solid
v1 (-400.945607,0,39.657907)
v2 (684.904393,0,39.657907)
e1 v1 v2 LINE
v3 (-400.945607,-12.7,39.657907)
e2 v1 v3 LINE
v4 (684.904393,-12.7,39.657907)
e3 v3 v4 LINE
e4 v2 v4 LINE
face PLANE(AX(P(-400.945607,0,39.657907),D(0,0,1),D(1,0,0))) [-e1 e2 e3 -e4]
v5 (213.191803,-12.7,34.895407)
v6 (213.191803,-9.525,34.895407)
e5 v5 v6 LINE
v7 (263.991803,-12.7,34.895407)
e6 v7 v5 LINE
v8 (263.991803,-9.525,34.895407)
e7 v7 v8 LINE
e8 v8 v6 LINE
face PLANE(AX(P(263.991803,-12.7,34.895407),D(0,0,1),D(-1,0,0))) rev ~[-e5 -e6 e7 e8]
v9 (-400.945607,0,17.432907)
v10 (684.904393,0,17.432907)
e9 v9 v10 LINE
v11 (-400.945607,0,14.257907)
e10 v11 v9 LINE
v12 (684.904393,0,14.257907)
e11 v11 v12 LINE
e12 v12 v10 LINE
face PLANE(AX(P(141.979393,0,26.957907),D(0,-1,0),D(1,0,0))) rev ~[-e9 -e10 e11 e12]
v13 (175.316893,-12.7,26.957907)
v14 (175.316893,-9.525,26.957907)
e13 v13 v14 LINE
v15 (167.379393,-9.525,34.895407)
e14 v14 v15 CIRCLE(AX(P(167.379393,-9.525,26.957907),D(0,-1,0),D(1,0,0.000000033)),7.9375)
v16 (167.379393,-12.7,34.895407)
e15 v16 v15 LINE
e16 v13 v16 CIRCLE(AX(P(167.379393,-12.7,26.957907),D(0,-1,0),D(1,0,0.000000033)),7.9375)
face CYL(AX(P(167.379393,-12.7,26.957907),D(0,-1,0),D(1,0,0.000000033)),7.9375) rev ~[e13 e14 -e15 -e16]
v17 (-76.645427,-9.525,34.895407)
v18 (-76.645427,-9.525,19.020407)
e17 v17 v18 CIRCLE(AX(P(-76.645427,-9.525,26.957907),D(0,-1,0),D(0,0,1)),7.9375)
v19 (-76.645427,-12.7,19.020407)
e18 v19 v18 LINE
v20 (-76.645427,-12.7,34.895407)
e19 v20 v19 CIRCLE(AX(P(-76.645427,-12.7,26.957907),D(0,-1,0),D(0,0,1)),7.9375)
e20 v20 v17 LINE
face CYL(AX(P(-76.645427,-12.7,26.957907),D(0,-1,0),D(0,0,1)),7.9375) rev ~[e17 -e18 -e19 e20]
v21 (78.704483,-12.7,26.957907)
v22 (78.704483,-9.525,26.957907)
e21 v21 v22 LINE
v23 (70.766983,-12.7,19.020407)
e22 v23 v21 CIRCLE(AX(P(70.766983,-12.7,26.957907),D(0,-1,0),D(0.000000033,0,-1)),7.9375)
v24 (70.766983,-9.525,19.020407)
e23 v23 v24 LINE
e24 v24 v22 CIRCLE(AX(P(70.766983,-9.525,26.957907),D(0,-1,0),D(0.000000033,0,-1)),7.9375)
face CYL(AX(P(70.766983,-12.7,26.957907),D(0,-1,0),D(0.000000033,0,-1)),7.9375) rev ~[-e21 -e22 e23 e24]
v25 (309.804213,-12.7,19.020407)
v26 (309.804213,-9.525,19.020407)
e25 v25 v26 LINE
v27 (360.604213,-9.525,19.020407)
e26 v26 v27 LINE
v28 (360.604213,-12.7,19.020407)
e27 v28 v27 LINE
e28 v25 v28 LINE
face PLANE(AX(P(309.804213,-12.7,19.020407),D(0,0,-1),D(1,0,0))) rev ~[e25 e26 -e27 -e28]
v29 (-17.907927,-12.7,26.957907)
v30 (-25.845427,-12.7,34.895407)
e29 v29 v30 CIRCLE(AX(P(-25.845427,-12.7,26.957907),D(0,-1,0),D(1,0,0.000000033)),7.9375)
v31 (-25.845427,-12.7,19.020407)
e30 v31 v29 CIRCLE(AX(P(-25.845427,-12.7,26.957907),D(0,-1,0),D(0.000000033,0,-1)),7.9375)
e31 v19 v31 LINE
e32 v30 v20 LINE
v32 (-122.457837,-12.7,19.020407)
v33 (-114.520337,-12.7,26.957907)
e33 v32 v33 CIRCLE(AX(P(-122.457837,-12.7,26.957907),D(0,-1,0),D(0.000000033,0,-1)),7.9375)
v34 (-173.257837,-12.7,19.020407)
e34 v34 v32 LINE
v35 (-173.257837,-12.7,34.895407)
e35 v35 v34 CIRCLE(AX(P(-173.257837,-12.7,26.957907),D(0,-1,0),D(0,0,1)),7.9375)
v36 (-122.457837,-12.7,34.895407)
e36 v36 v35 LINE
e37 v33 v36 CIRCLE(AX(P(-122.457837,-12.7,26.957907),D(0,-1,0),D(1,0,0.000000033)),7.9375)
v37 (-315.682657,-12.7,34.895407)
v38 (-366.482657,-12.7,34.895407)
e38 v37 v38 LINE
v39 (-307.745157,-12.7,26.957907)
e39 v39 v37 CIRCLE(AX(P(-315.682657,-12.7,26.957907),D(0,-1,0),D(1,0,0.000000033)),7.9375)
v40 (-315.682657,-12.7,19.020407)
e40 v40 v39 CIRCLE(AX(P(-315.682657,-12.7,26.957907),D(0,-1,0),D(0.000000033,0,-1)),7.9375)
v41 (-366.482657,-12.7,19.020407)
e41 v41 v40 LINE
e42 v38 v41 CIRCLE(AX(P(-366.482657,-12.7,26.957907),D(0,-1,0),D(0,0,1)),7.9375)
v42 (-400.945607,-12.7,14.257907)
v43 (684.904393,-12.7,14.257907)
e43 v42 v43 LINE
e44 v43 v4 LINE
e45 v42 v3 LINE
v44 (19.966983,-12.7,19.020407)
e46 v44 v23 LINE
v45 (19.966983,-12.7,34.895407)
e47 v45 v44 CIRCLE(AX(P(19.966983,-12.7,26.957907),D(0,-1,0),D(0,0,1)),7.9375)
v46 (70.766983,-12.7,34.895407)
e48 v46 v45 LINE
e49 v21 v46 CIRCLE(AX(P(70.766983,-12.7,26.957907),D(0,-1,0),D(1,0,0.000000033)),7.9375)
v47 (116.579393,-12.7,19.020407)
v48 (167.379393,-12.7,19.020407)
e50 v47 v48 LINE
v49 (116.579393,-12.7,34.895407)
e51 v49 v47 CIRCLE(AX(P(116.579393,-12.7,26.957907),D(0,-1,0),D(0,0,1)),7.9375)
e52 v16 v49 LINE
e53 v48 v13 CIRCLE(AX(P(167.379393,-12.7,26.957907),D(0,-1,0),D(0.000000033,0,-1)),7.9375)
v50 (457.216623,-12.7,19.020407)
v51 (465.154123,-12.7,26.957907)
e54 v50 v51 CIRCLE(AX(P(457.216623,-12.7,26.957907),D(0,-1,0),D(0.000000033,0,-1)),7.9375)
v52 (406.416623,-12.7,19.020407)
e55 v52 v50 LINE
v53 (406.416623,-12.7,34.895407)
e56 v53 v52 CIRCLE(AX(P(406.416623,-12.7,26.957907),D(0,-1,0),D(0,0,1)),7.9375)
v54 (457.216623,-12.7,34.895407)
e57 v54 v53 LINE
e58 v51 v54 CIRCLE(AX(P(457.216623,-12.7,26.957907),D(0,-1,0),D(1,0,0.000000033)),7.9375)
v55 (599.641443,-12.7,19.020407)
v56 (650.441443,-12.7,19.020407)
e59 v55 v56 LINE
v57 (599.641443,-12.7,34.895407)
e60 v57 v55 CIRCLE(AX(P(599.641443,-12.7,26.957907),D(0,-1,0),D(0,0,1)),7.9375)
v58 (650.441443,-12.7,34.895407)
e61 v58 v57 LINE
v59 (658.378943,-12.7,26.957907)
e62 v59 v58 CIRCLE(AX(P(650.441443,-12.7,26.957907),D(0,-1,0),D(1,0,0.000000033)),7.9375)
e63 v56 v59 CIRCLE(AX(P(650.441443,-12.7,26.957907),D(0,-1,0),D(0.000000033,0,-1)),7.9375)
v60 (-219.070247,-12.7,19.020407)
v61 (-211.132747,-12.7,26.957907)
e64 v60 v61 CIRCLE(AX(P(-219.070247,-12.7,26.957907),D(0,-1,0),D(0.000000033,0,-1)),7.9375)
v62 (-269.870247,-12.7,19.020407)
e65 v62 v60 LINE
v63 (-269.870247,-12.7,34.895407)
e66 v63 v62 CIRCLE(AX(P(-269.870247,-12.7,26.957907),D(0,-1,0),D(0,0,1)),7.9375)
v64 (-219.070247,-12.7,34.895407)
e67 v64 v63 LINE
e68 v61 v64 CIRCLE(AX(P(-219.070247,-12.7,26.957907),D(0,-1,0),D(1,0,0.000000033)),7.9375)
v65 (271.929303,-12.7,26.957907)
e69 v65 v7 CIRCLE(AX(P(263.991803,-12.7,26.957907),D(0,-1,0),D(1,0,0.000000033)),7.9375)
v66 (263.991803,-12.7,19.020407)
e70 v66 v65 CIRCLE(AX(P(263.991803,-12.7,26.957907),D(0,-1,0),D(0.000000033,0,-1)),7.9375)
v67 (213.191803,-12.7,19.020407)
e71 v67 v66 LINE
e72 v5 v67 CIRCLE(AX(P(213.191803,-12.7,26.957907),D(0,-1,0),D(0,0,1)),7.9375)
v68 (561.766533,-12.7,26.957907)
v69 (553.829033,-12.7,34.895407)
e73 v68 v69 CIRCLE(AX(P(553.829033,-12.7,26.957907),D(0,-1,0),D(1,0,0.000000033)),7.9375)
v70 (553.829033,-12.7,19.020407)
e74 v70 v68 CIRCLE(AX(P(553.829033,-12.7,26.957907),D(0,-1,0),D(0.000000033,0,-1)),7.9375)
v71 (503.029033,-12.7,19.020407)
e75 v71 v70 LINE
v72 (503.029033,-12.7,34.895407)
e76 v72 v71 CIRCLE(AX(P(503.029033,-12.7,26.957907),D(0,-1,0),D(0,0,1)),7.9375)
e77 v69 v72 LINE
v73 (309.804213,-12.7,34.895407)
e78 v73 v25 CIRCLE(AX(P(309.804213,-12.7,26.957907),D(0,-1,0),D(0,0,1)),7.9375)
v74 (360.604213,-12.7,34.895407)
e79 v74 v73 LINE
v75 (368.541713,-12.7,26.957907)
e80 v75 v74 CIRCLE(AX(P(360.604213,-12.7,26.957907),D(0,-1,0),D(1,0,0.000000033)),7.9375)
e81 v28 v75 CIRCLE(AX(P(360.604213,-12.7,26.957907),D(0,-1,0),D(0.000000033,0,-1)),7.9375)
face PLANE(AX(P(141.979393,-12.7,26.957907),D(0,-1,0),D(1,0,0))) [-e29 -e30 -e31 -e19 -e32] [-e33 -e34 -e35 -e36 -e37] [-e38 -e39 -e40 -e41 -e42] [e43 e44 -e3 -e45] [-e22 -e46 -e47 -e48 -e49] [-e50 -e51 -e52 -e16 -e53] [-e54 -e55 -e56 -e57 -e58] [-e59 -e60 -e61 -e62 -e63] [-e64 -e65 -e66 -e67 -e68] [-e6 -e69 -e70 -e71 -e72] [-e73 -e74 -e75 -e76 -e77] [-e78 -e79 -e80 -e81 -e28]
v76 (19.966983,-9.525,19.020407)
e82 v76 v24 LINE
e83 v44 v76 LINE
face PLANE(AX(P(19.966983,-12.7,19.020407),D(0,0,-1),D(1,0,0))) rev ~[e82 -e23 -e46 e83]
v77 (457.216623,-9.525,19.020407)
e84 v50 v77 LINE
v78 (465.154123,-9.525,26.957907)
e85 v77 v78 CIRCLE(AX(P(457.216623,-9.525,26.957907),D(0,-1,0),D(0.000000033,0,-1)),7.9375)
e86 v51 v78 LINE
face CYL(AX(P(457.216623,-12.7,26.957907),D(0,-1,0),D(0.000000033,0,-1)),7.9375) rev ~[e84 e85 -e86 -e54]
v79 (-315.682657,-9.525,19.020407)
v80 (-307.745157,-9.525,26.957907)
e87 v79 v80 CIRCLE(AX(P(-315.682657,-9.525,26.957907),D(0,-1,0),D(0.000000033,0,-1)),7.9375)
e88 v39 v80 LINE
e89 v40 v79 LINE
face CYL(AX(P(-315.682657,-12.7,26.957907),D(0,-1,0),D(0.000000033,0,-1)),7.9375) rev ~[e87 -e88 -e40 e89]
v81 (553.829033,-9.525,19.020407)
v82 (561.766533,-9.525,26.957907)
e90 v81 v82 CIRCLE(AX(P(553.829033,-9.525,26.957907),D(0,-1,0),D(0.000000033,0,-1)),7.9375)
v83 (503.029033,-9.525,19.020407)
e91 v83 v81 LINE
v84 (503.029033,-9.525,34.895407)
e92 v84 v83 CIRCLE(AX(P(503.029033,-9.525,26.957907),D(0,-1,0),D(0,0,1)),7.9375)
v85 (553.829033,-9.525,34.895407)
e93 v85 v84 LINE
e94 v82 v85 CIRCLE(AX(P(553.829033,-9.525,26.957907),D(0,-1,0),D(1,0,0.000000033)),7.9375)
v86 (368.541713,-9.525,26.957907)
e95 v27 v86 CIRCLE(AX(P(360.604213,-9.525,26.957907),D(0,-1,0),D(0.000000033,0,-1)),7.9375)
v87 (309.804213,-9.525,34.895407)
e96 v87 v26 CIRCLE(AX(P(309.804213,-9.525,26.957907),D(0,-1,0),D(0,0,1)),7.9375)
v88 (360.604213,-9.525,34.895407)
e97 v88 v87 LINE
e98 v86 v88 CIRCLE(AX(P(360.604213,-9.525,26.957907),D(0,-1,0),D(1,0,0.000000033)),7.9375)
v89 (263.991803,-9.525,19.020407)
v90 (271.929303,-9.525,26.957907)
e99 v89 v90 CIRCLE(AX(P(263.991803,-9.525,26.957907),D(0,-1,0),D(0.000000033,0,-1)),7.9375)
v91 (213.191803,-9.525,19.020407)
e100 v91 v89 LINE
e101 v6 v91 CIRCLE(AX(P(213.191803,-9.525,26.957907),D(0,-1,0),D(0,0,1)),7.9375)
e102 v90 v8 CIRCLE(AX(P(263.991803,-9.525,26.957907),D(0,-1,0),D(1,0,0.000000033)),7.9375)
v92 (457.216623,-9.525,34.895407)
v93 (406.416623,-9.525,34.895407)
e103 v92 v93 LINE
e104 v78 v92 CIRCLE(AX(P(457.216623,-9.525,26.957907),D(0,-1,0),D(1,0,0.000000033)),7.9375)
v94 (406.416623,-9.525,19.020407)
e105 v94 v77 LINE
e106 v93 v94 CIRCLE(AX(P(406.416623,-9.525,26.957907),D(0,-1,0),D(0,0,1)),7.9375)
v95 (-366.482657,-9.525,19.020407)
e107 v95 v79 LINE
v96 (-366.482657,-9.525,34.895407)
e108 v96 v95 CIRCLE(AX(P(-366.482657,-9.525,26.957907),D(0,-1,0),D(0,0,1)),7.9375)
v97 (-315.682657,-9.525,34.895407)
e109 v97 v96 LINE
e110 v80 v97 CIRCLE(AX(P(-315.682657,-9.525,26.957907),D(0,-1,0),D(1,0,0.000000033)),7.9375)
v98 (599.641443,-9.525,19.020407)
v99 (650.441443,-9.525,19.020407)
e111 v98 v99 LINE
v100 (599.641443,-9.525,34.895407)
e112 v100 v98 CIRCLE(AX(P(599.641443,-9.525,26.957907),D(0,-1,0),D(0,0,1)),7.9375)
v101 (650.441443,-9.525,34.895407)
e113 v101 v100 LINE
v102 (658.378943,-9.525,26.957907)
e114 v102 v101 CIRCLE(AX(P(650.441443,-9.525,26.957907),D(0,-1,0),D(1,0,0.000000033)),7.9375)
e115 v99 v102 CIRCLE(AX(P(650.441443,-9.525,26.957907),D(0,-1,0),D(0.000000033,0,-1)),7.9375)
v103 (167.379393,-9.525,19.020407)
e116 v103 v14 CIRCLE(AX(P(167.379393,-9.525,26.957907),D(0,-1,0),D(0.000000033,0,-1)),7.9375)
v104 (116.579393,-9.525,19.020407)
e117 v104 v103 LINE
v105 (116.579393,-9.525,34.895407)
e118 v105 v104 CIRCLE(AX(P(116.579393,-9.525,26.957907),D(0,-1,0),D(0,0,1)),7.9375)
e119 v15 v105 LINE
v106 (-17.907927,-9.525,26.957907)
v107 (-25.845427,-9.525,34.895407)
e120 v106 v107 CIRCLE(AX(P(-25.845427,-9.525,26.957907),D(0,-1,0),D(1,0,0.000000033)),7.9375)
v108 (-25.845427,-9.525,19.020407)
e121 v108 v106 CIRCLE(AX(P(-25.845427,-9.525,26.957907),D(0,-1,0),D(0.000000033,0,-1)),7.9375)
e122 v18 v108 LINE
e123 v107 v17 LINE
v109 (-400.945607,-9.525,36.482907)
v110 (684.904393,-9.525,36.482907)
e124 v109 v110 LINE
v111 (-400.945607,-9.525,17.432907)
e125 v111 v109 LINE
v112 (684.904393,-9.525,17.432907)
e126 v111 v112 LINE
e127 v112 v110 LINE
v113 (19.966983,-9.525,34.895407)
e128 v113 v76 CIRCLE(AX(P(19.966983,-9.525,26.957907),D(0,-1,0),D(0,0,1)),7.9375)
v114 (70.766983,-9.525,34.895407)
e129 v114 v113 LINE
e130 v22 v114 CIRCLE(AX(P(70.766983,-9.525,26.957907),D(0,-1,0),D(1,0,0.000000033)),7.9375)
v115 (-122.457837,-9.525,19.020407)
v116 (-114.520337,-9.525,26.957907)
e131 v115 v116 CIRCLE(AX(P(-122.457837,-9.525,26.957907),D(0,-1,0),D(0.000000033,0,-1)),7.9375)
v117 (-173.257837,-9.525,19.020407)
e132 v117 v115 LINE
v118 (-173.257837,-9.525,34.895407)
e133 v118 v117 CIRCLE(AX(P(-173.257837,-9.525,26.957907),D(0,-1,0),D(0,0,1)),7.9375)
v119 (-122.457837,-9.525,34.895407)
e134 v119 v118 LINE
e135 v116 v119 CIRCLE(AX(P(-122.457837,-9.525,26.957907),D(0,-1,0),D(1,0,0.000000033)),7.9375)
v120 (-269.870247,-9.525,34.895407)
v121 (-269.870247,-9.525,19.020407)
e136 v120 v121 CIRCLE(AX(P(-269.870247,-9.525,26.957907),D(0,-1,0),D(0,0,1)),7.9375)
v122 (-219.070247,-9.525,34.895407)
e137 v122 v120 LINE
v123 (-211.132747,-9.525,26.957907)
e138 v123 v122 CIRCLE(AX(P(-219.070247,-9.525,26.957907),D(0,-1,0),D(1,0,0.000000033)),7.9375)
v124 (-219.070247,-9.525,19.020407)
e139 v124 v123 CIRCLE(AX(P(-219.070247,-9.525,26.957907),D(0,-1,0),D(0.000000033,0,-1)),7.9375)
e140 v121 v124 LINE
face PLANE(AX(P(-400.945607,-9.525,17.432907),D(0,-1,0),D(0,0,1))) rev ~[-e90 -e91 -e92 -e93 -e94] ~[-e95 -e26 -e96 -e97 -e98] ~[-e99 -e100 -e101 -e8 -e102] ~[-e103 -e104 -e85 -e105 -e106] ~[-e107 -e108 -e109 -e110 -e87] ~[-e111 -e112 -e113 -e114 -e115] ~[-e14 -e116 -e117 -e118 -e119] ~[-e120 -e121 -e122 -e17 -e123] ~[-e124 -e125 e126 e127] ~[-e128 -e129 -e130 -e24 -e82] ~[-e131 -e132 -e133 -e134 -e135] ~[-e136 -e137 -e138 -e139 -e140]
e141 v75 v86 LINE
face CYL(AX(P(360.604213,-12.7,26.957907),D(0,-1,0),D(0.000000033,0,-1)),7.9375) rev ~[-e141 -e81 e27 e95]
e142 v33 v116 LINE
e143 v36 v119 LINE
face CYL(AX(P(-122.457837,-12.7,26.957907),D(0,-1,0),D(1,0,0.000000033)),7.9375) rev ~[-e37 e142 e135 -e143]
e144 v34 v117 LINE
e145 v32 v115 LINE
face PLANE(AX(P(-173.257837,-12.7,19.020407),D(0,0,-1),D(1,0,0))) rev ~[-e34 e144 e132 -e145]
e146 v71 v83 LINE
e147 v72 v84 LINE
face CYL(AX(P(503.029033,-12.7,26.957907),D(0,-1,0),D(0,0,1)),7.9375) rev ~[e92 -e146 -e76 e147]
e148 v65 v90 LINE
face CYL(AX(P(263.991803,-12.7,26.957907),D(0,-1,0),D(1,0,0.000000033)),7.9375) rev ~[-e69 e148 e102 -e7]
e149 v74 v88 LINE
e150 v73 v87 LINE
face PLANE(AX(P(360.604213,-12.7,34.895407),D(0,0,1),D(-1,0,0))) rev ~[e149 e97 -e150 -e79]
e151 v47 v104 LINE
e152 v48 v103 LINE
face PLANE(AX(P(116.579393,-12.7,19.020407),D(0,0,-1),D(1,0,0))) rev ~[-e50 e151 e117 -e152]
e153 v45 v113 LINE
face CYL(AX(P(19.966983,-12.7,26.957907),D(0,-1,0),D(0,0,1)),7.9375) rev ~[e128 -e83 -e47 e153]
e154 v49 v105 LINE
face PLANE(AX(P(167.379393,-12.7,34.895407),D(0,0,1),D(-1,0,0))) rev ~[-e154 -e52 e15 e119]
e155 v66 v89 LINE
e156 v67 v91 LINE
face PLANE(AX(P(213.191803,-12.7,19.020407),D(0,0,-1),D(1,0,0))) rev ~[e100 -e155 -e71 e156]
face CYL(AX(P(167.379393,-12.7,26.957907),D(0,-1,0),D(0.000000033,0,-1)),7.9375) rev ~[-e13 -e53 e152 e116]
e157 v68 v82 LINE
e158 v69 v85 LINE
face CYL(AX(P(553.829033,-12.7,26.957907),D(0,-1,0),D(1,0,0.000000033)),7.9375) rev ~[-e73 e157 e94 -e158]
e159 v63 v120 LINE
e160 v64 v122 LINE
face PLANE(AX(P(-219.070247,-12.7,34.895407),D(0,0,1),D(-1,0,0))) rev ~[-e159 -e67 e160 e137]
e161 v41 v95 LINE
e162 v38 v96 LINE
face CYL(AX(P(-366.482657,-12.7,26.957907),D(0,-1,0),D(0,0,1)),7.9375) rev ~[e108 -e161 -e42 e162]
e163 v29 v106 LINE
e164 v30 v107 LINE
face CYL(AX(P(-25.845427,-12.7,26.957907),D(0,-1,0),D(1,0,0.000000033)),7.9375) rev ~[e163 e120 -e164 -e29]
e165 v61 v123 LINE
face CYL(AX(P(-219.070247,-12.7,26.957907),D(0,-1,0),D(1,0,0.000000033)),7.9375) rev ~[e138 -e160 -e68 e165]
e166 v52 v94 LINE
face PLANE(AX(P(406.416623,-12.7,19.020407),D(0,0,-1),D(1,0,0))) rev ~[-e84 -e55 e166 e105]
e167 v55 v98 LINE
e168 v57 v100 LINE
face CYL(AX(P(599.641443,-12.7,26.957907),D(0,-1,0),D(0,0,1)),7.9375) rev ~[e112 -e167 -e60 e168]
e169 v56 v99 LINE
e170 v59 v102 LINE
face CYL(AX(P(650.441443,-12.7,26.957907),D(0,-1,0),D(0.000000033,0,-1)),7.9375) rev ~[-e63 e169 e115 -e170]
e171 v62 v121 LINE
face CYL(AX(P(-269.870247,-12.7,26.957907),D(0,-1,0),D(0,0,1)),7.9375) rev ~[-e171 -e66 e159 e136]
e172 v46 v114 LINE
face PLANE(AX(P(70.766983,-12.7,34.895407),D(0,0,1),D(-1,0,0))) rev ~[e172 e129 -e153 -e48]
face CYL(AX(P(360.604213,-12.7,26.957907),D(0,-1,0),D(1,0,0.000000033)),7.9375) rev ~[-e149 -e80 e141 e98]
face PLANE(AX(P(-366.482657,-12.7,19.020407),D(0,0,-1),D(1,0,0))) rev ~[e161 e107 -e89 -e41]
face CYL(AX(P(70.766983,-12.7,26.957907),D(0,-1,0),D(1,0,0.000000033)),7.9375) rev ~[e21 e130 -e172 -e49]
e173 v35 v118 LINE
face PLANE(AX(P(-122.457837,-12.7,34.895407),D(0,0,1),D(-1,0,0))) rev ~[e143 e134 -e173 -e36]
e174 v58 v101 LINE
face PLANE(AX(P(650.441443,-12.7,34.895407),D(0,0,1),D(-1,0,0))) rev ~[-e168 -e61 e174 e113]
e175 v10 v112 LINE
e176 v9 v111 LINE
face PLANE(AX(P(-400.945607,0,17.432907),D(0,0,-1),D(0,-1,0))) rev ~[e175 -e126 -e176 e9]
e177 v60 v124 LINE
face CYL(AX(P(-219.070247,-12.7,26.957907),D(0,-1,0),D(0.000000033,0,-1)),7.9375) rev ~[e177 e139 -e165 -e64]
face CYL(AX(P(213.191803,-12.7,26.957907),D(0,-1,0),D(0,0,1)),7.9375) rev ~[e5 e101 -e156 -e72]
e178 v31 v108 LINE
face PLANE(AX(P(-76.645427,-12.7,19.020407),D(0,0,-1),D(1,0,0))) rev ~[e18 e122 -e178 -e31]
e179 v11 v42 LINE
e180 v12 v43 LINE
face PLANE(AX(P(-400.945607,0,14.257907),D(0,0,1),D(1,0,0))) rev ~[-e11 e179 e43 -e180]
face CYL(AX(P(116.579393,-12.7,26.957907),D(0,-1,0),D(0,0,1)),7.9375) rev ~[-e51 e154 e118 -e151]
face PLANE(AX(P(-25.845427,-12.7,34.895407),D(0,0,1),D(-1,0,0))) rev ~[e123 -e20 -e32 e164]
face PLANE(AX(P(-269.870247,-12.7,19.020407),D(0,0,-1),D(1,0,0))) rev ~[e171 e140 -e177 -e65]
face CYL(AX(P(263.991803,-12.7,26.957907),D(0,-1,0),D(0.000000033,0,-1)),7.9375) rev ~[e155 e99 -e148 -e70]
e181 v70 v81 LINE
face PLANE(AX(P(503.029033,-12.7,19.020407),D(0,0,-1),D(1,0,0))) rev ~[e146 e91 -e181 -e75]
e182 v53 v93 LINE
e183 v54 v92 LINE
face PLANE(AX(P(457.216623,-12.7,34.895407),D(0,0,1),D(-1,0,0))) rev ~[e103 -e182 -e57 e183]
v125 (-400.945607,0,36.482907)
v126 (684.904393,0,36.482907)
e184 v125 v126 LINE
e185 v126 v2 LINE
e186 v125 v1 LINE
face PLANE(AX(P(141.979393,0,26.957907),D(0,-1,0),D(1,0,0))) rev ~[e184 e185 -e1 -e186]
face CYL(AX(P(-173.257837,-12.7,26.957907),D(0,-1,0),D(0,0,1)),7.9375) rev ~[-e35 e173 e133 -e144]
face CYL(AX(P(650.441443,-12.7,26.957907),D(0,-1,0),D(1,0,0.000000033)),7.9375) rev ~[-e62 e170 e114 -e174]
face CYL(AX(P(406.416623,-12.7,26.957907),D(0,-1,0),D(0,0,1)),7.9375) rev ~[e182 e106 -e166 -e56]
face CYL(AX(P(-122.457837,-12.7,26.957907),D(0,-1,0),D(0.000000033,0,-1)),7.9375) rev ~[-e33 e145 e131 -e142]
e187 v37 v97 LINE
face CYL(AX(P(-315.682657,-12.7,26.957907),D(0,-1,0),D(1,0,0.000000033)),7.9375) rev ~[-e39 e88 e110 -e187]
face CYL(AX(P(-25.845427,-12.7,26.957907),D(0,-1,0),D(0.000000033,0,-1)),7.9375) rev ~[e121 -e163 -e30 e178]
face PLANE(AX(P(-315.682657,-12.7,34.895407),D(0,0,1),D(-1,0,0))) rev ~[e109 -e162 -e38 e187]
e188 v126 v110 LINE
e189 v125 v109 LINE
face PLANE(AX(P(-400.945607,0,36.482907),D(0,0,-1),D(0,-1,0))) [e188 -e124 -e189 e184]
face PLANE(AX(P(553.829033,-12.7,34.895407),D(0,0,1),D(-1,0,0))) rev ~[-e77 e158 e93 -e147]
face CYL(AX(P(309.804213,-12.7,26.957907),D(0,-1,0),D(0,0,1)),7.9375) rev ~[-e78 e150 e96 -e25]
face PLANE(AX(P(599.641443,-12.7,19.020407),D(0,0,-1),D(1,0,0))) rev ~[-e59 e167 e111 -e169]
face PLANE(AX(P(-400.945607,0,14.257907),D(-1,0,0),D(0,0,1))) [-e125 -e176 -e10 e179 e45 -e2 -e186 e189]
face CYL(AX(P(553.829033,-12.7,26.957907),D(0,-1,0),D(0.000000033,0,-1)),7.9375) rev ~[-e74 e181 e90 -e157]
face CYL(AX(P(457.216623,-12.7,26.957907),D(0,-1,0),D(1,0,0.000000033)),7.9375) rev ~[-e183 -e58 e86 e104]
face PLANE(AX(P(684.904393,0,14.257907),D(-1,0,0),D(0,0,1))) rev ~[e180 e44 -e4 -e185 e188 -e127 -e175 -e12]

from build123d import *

# Parameters (mm, degrees)
F0_W     = 1085.85
F0_H     = 25.4
F1_DEPTH = 12.7
F2_W     = 9.525
F2_H     = 19.05
F3_DEPTH = 1085.851
F5_DEPTH = 12.701


with BuildPart() as f1:
    # F0 (on Front) → F1 (new body)
    with BuildSketch(Plane.XZ):
        with Locations((141.979393, 26.957907)):
            Rectangle(F0_W, F0_H)
    extrude(amount=F1_DEPTH)

    # F2 (on face) → F3 (cut, through all)
    with BuildSketch(Plane(origin=(-400.945607, 0, 0), x_dir=(0, -1, 0), z_dir=(-1, 0, 0))):
        with Locations((4.7625, 26.957907)):
            Rectangle(F2_W, F2_H)
    extrude(amount=-F3_DEPTH, mode=Mode.SUBTRACT)

    # F4 (on face) → F5 (cut, through all)
    with BuildSketch(Plane.XZ.offset(12.7)):
        with BuildLine():
            ThreePointArc((-366.482657, 19.020407), (-360.869997, 21.345247), (-358.545157, 26.957907))
            ThreePointArc((-358.545157, 26.957907), (-360.869997, 32.570567), (-366.482657, 34.895407))
            ThreePointArc((-366.482657, 34.895407), (-374.420157, 26.957907), (-366.482657, 19.020407))
        make_face()
        with BuildLine():
            ThreePointArc((-366.482657, 34.895407), (-360.869997, 32.570567), (-358.545157, 26.957907))
            ThreePointArc((-358.545157, 26.957907), (-360.869997, 21.345247), (-366.482657, 19.020407))
            Line((-366.482657, 19.020407), (-315.682657, 19.020407))
            ThreePointArc((-315.682657, 19.020407), (-323.620157, 26.957907), (-315.682657, 34.895407))
            Line((-315.682657, 34.895407), (-366.482657, 34.895407))
        make_face()
        with BuildLine():
            ThreePointArc((-307.745157, 26.957907), (-310.069997, 32.570567), (-315.682657, 34.895407))
            ThreePointArc((-315.682657, 34.895407), (-323.620157, 26.957907), (-315.682657, 19.020407))
            ThreePointArc((-315.682657, 19.020407), (-310.069997, 21.345247), (-307.745157, 26.957907))
        make_face()
        with BuildLine():
            ThreePointArc((-261.932747, 26.957907), (-264.257587, 32.570567), (-269.870247, 34.895407))
            ThreePointArc((-269.870247, 34.895407), (-277.807747, 26.957907), (-269.870247, 19.020407))
            ThreePointArc((-269.870247, 19.020407), (-264.257587, 21.345247), (-261.932747, 26.957907))
        make_face()
        with BuildLine():
            Line((-219.070247, 34.895407), (-269.870247, 34.895407))
            ThreePointArc((-269.870247, 34.895407), (-264.257587, 32.570567), (-261.932747, 26.957907))
            ThreePointArc((-261.932747, 26.957907), (-264.257587, 21.345247), (-269.870247, 19.020407))
            Line((-269.870247, 19.020407), (-219.070247, 19.020407))
            ThreePointArc((-219.070247, 19.020407), (-227.007747, 26.957907), (-219.070247, 34.895407))
        make_face()
        with BuildLine():
            ThreePointArc((-211.132747, 26.957907), (-213.457587, 32.570567), (-219.070247, 34.895407))
            ThreePointArc((-219.070247, 34.895407), (-227.007747, 26.957907), (-219.070247, 19.020407))
            ThreePointArc((-219.070247, 19.020407), (-213.457587, 21.345247), (-211.132747, 26.957907))
        make_face()
        with BuildLine():
            ThreePointArc((-165.320337, 26.957907), (-167.645177, 32.570567), (-173.257837, 34.895407))
            ThreePointArc((-173.257837, 34.895407), (-181.195337, 26.957907), (-173.257837, 19.020407))
            ThreePointArc((-173.257837, 19.020407), (-167.645177, 21.345247), (-165.320337, 26.957907))
        make_face()
        with BuildLine():
            Line((-122.457837, 34.895407), (-173.257837, 34.895407))
            ThreePointArc((-173.257837, 34.895407), (-167.645177, 32.570567), (-165.320337, 26.957907))
            ThreePointArc((-165.320337, 26.957907), (-167.645177, 21.345247), (-173.257837, 19.020407))
            Line((-173.257837, 19.020407), (-122.457837, 19.020407))
            ThreePointArc((-122.457837, 19.020407), (-130.395337, 26.957907), (-122.457837, 34.895407))
        make_face()
        with BuildLine():
            ThreePointArc((-114.520337, 26.957907), (-116.845177, 32.570567), (-122.457837, 34.895407))
            ThreePointArc((-122.457837, 34.895407), (-130.395337, 26.957907), (-122.457837, 19.020407))
            ThreePointArc((-122.457837, 19.020407), (-116.845177, 21.345247), (-114.520337, 26.957907))
        make_face()
        with BuildLine():
            ThreePointArc((-68.707927, 26.957907), (-71.032767, 32.570567), (-76.645427, 34.895407))
            ThreePointArc((-76.645427, 34.895407), (-84.582927, 26.957907), (-76.645427, 19.020407))
            ThreePointArc((-76.645427, 19.020407), (-71.032767, 21.345247), (-68.707927, 26.957907))
        make_face()
        with BuildLine():
            Line((-25.845427, 34.895407), (-76.645427, 34.895407))
            ThreePointArc((-76.645427, 34.895407), (-71.032767, 32.570567), (-68.707927, 26.957907))
            ThreePointArc((-68.707927, 26.957907), (-71.032767, 21.345247), (-76.645427, 19.020407))
            Line((-76.645427, 19.020407), (-25.845427, 19.020407))
            ThreePointArc((-25.845427, 19.020407), (-33.782927, 26.957907), (-25.845427, 34.895407))
        make_face()
        with BuildLine():
            ThreePointArc((-17.907927, 26.957907), (-20.232767, 32.570567), (-25.845427, 34.895407))
            ThreePointArc((-25.845427, 34.895407), (-33.782927, 26.957907), (-25.845427, 19.020407))
            ThreePointArc((-25.845427, 19.020407), (-20.232767, 21.345247), (-17.907927, 26.957907))
        make_face()
        with BuildLine():
            ThreePointArc((27.904483, 26.957907), (25.579643, 32.570567), (19.966983, 34.895407))
            ThreePointArc((19.966983, 34.895407), (12.029483, 26.957907), (19.966983, 19.020407))
            ThreePointArc((19.966983, 19.020407), (25.579643, 21.345247), (27.904483, 26.957907))
        make_face()
        with BuildLine():
            Line((70.766983, 34.895407), (19.966983, 34.895407))
            ThreePointArc((19.966983, 34.895407), (25.579643, 32.570567), (27.904483, 26.957907))
            ThreePointArc((27.904483, 26.957907), (25.579643, 21.345247), (19.966983, 19.020407))
            Line((19.966983, 19.020407), (70.766983, 19.020407))
            ThreePointArc((70.766983, 19.020407), (62.829483, 26.957907), (70.766983, 34.895407))
        make_face()
        with BuildLine():
            ThreePointArc((78.704483, 26.957907), (76.379643, 32.570567), (70.766983, 34.895407))
            ThreePointArc((70.766983, 34.895407), (62.829483, 26.957907), (70.766983, 19.020407))
            ThreePointArc((70.766983, 19.020407), (76.379643, 21.345247), (78.704483, 26.957907))
        make_face()
        with BuildLine():
            ThreePointArc((124.516893, 26.957907), (122.192053, 32.570567), (116.579393, 34.895407))
            ThreePointArc((116.579393, 34.895407), (108.641893, 26.957907), (116.579393, 19.020407))
            ThreePointArc((116.579393, 19.020407), (122.192053, 21.345247), (124.516893, 26.957907))
        make_face()
        with BuildLine():
            Line((141.979393, 34.895407), (116.579393, 34.895407))
            ThreePointArc((116.579393, 34.895407), (122.192053, 32.570567), (124.516893, 26.957907))
            ThreePointArc((124.516893, 26.957907), (122.192053, 21.345247), (116.579393, 19.020407))
            Line((116.579393, 19.020407), (141.979393, 19.020407))
            Line((141.979393, 19.020407), (141.979393, 34.895407))
        make_face()
        with BuildLine():
            Line((167.379393, 34.895407), (141.979393, 34.895407))
            Line((141.979393, 34.895407), (141.979393, 19.020407))
            Line((141.979393, 19.020407), (167.379393, 19.020407))
            ThreePointArc((167.379393, 19.020407), (159.441893, 26.957907), (167.379393, 34.895407))
        make_face()
        with BuildLine():
            ThreePointArc((175.316893, 26.957907), (172.992053, 32.570567), (167.379393, 34.895407))
            ThreePointArc((167.379393, 34.895407), (159.441893, 26.957907), (167.379393, 19.020407))
            ThreePointArc((167.379393, 19.020407), (172.992053, 21.345247), (175.316893, 26.957907))
        make_face()
        with BuildLine():
            ThreePointArc((213.191803, 19.020407), (218.804463, 21.345247), (221.129303, 26.957907))
            ThreePointArc((221.129303, 26.957907), (218.804463, 32.570567), (213.191803, 34.895407))
            ThreePointArc((213.191803, 34.895407), (205.254303, 26.957907), (213.191803, 19.020407))
        make_face()
        with BuildLine():
            ThreePointArc((213.191803, 34.895407), (218.804463, 32.570567), (221.129303, 26.957907))
            ThreePointArc((221.129303, 26.957907), (218.804463, 21.345247), (213.191803, 19.020407))
            Line((213.191803, 19.020407), (263.991803, 19.020407))
            ThreePointArc((263.991803, 19.020407), (256.054303, 26.957907), (263.991803, 34.895407))
            Line((263.991803, 34.895407), (213.191803, 34.895407))
        make_face()
        with BuildLine():
            ThreePointArc((271.929303, 26.957907), (269.604463, 32.570567), (263.991803, 34.895407))
            ThreePointArc((263.991803, 34.895407), (256.054303, 26.957907), (263.991803, 19.020407))
            ThreePointArc((263.991803, 19.020407), (269.604463, 21.345247), (271.929303, 26.957907))
        make_face()
        with BuildLine():
            ThreePointArc((309.804213, 19.020407), (315.416873, 21.345247), (317.741713, 26.957907))
            ThreePointArc((317.741713, 26.957907), (315.416873, 32.570567), (309.804213, 34.895407))
            ThreePointArc((309.804213, 34.895407), (301.866713, 26.957907), (309.804213, 19.020407))
        make_face()
        with BuildLine():
            ThreePointArc((309.804213, 34.895407), (315.416873, 32.570567), (317.741713, 26.957907))
            ThreePointArc((317.741713, 26.957907), (315.416873, 21.345247), (309.804213, 19.020407))
            Line((309.804213, 19.020407), (360.604213, 19.020407))
            ThreePointArc((360.604213, 19.020407), (352.666713, 26.957907), (360.604213, 34.895407))
            Line((360.604213, 34.895407), (309.804213, 34.895407))
        make_face()
        with BuildLine():
            ThreePointArc((368.541713, 26.957907), (366.216873, 32.570567), (360.604213, 34.895407))
            ThreePointArc((360.604213, 34.895407), (352.666713, 26.957907), (360.604213, 19.020407))
            ThreePointArc((360.604213, 19.020407), (366.216873, 21.345247), (368.541713, 26.957907))
        make_face()
        with BuildLine():
            ThreePointArc((406.416623, 19.020407), (412.029283, 21.345247), (414.354123, 26.957907))
            ThreePointArc((414.354123, 26.957907), (412.029283, 32.570567), (406.416623, 34.895407))
            ThreePointArc((406.416623, 34.895407), (398.479123, 26.957907), (406.416623, 19.020407))
        make_face()
        with BuildLine():
            ThreePointArc((406.416623, 34.895407), (412.029283, 32.570567), (414.354123, 26.957907))
            ThreePointArc((414.354123, 26.957907), (412.029283, 21.345247), (406.416623, 19.020407))
            Line((406.416623, 19.020407), (457.216623, 19.020407))
            ThreePointArc((457.216623, 19.020407), (449.279123, 26.957907), (457.216623, 34.895407))
            Line((457.216623, 34.895407), (406.416623, 34.895407))
        make_face()
        with BuildLine():
            ThreePointArc((465.154123, 26.957907), (462.829283, 32.570567), (457.216623, 34.895407))
            ThreePointArc((457.216623, 34.895407), (449.279123, 26.957907), (457.216623, 19.020407))
            ThreePointArc((457.216623, 19.020407), (462.829283, 21.345247), (465.154123, 26.957907))
        make_face()
        with BuildLine():
            ThreePointArc((510.966533, 26.957907), (508.641693, 32.570567), (503.029033, 34.895407))
            ThreePointArc((503.029033, 34.895407), (495.091533, 26.957907), (503.029033, 19.020407))
            ThreePointArc((503.029033, 19.020407), (508.641693, 21.345247), (510.966533, 26.957907))
        make_face()
        with BuildLine():
            ThreePointArc((553.829033, 19.020407), (545.891533, 26.957907), (553.829033, 34.895407))
            Line((553.829033, 34.895407), (503.029033, 34.895407))
            ThreePointArc((503.029033, 34.895407), (508.641693, 32.570567), (510.966533, 26.957907))
            ThreePointArc((510.966533, 26.957907), (508.641693, 21.345247), (503.029033, 19.020407))
            Line((503.029033, 19.020407), (553.829033, 19.020407))
        make_face()
        with BuildLine():
            ThreePointArc((553.829033, 19.020407), (559.441693, 21.345247), (561.766533, 26.957907))
            ThreePointArc((561.766533, 26.957907), (559.441693, 32.570567), (553.829033, 34.895407))
            ThreePointArc((553.829033, 34.895407), (545.891533, 26.957907), (553.829033, 19.020407))
        make_face()
        with BuildLine():
            ThreePointArc((607.578943, 26.957907), (605.254103, 32.570567), (599.641443, 34.895407))
            ThreePointArc((599.641443, 34.895407), (591.703943, 26.957907), (599.641443, 19.020407))
            ThreePointArc((599.641443, 19.020407), (605.254103, 21.345247), (607.578943, 26.957907))
        make_face()
        with BuildLine():
            ThreePointArc((650.441443, 19.020407), (642.503943, 26.957907), (650.441443, 34.895407))
            Line((650.441443, 34.895407), (599.641443, 34.895407))
            ThreePointArc((599.641443, 34.895407), (605.254103, 32.570567), (607.578943, 26.957907))
            ThreePointArc((607.578943, 26.957907), (605.254103, 21.345247), (599.641443, 19.020407))
            Line((599.641443, 19.020407), (650.441443, 19.020407))
        make_face()
        with BuildLine():
            ThreePointArc((650.441443, 19.020407), (656.054103, 21.345247), (658.378943, 26.957907))
            ThreePointArc((658.378943, 26.957907), (656.054103, 32.570567), (650.441443, 34.895407))
            ThreePointArc((650.441443, 34.895407), (642.503943, 26.957907), (650.441443, 19.020407))
        make_face()
    extrude(amount=-F5_DEPTH, mode=Mode.SUBTRACT)


solid = f1.part
